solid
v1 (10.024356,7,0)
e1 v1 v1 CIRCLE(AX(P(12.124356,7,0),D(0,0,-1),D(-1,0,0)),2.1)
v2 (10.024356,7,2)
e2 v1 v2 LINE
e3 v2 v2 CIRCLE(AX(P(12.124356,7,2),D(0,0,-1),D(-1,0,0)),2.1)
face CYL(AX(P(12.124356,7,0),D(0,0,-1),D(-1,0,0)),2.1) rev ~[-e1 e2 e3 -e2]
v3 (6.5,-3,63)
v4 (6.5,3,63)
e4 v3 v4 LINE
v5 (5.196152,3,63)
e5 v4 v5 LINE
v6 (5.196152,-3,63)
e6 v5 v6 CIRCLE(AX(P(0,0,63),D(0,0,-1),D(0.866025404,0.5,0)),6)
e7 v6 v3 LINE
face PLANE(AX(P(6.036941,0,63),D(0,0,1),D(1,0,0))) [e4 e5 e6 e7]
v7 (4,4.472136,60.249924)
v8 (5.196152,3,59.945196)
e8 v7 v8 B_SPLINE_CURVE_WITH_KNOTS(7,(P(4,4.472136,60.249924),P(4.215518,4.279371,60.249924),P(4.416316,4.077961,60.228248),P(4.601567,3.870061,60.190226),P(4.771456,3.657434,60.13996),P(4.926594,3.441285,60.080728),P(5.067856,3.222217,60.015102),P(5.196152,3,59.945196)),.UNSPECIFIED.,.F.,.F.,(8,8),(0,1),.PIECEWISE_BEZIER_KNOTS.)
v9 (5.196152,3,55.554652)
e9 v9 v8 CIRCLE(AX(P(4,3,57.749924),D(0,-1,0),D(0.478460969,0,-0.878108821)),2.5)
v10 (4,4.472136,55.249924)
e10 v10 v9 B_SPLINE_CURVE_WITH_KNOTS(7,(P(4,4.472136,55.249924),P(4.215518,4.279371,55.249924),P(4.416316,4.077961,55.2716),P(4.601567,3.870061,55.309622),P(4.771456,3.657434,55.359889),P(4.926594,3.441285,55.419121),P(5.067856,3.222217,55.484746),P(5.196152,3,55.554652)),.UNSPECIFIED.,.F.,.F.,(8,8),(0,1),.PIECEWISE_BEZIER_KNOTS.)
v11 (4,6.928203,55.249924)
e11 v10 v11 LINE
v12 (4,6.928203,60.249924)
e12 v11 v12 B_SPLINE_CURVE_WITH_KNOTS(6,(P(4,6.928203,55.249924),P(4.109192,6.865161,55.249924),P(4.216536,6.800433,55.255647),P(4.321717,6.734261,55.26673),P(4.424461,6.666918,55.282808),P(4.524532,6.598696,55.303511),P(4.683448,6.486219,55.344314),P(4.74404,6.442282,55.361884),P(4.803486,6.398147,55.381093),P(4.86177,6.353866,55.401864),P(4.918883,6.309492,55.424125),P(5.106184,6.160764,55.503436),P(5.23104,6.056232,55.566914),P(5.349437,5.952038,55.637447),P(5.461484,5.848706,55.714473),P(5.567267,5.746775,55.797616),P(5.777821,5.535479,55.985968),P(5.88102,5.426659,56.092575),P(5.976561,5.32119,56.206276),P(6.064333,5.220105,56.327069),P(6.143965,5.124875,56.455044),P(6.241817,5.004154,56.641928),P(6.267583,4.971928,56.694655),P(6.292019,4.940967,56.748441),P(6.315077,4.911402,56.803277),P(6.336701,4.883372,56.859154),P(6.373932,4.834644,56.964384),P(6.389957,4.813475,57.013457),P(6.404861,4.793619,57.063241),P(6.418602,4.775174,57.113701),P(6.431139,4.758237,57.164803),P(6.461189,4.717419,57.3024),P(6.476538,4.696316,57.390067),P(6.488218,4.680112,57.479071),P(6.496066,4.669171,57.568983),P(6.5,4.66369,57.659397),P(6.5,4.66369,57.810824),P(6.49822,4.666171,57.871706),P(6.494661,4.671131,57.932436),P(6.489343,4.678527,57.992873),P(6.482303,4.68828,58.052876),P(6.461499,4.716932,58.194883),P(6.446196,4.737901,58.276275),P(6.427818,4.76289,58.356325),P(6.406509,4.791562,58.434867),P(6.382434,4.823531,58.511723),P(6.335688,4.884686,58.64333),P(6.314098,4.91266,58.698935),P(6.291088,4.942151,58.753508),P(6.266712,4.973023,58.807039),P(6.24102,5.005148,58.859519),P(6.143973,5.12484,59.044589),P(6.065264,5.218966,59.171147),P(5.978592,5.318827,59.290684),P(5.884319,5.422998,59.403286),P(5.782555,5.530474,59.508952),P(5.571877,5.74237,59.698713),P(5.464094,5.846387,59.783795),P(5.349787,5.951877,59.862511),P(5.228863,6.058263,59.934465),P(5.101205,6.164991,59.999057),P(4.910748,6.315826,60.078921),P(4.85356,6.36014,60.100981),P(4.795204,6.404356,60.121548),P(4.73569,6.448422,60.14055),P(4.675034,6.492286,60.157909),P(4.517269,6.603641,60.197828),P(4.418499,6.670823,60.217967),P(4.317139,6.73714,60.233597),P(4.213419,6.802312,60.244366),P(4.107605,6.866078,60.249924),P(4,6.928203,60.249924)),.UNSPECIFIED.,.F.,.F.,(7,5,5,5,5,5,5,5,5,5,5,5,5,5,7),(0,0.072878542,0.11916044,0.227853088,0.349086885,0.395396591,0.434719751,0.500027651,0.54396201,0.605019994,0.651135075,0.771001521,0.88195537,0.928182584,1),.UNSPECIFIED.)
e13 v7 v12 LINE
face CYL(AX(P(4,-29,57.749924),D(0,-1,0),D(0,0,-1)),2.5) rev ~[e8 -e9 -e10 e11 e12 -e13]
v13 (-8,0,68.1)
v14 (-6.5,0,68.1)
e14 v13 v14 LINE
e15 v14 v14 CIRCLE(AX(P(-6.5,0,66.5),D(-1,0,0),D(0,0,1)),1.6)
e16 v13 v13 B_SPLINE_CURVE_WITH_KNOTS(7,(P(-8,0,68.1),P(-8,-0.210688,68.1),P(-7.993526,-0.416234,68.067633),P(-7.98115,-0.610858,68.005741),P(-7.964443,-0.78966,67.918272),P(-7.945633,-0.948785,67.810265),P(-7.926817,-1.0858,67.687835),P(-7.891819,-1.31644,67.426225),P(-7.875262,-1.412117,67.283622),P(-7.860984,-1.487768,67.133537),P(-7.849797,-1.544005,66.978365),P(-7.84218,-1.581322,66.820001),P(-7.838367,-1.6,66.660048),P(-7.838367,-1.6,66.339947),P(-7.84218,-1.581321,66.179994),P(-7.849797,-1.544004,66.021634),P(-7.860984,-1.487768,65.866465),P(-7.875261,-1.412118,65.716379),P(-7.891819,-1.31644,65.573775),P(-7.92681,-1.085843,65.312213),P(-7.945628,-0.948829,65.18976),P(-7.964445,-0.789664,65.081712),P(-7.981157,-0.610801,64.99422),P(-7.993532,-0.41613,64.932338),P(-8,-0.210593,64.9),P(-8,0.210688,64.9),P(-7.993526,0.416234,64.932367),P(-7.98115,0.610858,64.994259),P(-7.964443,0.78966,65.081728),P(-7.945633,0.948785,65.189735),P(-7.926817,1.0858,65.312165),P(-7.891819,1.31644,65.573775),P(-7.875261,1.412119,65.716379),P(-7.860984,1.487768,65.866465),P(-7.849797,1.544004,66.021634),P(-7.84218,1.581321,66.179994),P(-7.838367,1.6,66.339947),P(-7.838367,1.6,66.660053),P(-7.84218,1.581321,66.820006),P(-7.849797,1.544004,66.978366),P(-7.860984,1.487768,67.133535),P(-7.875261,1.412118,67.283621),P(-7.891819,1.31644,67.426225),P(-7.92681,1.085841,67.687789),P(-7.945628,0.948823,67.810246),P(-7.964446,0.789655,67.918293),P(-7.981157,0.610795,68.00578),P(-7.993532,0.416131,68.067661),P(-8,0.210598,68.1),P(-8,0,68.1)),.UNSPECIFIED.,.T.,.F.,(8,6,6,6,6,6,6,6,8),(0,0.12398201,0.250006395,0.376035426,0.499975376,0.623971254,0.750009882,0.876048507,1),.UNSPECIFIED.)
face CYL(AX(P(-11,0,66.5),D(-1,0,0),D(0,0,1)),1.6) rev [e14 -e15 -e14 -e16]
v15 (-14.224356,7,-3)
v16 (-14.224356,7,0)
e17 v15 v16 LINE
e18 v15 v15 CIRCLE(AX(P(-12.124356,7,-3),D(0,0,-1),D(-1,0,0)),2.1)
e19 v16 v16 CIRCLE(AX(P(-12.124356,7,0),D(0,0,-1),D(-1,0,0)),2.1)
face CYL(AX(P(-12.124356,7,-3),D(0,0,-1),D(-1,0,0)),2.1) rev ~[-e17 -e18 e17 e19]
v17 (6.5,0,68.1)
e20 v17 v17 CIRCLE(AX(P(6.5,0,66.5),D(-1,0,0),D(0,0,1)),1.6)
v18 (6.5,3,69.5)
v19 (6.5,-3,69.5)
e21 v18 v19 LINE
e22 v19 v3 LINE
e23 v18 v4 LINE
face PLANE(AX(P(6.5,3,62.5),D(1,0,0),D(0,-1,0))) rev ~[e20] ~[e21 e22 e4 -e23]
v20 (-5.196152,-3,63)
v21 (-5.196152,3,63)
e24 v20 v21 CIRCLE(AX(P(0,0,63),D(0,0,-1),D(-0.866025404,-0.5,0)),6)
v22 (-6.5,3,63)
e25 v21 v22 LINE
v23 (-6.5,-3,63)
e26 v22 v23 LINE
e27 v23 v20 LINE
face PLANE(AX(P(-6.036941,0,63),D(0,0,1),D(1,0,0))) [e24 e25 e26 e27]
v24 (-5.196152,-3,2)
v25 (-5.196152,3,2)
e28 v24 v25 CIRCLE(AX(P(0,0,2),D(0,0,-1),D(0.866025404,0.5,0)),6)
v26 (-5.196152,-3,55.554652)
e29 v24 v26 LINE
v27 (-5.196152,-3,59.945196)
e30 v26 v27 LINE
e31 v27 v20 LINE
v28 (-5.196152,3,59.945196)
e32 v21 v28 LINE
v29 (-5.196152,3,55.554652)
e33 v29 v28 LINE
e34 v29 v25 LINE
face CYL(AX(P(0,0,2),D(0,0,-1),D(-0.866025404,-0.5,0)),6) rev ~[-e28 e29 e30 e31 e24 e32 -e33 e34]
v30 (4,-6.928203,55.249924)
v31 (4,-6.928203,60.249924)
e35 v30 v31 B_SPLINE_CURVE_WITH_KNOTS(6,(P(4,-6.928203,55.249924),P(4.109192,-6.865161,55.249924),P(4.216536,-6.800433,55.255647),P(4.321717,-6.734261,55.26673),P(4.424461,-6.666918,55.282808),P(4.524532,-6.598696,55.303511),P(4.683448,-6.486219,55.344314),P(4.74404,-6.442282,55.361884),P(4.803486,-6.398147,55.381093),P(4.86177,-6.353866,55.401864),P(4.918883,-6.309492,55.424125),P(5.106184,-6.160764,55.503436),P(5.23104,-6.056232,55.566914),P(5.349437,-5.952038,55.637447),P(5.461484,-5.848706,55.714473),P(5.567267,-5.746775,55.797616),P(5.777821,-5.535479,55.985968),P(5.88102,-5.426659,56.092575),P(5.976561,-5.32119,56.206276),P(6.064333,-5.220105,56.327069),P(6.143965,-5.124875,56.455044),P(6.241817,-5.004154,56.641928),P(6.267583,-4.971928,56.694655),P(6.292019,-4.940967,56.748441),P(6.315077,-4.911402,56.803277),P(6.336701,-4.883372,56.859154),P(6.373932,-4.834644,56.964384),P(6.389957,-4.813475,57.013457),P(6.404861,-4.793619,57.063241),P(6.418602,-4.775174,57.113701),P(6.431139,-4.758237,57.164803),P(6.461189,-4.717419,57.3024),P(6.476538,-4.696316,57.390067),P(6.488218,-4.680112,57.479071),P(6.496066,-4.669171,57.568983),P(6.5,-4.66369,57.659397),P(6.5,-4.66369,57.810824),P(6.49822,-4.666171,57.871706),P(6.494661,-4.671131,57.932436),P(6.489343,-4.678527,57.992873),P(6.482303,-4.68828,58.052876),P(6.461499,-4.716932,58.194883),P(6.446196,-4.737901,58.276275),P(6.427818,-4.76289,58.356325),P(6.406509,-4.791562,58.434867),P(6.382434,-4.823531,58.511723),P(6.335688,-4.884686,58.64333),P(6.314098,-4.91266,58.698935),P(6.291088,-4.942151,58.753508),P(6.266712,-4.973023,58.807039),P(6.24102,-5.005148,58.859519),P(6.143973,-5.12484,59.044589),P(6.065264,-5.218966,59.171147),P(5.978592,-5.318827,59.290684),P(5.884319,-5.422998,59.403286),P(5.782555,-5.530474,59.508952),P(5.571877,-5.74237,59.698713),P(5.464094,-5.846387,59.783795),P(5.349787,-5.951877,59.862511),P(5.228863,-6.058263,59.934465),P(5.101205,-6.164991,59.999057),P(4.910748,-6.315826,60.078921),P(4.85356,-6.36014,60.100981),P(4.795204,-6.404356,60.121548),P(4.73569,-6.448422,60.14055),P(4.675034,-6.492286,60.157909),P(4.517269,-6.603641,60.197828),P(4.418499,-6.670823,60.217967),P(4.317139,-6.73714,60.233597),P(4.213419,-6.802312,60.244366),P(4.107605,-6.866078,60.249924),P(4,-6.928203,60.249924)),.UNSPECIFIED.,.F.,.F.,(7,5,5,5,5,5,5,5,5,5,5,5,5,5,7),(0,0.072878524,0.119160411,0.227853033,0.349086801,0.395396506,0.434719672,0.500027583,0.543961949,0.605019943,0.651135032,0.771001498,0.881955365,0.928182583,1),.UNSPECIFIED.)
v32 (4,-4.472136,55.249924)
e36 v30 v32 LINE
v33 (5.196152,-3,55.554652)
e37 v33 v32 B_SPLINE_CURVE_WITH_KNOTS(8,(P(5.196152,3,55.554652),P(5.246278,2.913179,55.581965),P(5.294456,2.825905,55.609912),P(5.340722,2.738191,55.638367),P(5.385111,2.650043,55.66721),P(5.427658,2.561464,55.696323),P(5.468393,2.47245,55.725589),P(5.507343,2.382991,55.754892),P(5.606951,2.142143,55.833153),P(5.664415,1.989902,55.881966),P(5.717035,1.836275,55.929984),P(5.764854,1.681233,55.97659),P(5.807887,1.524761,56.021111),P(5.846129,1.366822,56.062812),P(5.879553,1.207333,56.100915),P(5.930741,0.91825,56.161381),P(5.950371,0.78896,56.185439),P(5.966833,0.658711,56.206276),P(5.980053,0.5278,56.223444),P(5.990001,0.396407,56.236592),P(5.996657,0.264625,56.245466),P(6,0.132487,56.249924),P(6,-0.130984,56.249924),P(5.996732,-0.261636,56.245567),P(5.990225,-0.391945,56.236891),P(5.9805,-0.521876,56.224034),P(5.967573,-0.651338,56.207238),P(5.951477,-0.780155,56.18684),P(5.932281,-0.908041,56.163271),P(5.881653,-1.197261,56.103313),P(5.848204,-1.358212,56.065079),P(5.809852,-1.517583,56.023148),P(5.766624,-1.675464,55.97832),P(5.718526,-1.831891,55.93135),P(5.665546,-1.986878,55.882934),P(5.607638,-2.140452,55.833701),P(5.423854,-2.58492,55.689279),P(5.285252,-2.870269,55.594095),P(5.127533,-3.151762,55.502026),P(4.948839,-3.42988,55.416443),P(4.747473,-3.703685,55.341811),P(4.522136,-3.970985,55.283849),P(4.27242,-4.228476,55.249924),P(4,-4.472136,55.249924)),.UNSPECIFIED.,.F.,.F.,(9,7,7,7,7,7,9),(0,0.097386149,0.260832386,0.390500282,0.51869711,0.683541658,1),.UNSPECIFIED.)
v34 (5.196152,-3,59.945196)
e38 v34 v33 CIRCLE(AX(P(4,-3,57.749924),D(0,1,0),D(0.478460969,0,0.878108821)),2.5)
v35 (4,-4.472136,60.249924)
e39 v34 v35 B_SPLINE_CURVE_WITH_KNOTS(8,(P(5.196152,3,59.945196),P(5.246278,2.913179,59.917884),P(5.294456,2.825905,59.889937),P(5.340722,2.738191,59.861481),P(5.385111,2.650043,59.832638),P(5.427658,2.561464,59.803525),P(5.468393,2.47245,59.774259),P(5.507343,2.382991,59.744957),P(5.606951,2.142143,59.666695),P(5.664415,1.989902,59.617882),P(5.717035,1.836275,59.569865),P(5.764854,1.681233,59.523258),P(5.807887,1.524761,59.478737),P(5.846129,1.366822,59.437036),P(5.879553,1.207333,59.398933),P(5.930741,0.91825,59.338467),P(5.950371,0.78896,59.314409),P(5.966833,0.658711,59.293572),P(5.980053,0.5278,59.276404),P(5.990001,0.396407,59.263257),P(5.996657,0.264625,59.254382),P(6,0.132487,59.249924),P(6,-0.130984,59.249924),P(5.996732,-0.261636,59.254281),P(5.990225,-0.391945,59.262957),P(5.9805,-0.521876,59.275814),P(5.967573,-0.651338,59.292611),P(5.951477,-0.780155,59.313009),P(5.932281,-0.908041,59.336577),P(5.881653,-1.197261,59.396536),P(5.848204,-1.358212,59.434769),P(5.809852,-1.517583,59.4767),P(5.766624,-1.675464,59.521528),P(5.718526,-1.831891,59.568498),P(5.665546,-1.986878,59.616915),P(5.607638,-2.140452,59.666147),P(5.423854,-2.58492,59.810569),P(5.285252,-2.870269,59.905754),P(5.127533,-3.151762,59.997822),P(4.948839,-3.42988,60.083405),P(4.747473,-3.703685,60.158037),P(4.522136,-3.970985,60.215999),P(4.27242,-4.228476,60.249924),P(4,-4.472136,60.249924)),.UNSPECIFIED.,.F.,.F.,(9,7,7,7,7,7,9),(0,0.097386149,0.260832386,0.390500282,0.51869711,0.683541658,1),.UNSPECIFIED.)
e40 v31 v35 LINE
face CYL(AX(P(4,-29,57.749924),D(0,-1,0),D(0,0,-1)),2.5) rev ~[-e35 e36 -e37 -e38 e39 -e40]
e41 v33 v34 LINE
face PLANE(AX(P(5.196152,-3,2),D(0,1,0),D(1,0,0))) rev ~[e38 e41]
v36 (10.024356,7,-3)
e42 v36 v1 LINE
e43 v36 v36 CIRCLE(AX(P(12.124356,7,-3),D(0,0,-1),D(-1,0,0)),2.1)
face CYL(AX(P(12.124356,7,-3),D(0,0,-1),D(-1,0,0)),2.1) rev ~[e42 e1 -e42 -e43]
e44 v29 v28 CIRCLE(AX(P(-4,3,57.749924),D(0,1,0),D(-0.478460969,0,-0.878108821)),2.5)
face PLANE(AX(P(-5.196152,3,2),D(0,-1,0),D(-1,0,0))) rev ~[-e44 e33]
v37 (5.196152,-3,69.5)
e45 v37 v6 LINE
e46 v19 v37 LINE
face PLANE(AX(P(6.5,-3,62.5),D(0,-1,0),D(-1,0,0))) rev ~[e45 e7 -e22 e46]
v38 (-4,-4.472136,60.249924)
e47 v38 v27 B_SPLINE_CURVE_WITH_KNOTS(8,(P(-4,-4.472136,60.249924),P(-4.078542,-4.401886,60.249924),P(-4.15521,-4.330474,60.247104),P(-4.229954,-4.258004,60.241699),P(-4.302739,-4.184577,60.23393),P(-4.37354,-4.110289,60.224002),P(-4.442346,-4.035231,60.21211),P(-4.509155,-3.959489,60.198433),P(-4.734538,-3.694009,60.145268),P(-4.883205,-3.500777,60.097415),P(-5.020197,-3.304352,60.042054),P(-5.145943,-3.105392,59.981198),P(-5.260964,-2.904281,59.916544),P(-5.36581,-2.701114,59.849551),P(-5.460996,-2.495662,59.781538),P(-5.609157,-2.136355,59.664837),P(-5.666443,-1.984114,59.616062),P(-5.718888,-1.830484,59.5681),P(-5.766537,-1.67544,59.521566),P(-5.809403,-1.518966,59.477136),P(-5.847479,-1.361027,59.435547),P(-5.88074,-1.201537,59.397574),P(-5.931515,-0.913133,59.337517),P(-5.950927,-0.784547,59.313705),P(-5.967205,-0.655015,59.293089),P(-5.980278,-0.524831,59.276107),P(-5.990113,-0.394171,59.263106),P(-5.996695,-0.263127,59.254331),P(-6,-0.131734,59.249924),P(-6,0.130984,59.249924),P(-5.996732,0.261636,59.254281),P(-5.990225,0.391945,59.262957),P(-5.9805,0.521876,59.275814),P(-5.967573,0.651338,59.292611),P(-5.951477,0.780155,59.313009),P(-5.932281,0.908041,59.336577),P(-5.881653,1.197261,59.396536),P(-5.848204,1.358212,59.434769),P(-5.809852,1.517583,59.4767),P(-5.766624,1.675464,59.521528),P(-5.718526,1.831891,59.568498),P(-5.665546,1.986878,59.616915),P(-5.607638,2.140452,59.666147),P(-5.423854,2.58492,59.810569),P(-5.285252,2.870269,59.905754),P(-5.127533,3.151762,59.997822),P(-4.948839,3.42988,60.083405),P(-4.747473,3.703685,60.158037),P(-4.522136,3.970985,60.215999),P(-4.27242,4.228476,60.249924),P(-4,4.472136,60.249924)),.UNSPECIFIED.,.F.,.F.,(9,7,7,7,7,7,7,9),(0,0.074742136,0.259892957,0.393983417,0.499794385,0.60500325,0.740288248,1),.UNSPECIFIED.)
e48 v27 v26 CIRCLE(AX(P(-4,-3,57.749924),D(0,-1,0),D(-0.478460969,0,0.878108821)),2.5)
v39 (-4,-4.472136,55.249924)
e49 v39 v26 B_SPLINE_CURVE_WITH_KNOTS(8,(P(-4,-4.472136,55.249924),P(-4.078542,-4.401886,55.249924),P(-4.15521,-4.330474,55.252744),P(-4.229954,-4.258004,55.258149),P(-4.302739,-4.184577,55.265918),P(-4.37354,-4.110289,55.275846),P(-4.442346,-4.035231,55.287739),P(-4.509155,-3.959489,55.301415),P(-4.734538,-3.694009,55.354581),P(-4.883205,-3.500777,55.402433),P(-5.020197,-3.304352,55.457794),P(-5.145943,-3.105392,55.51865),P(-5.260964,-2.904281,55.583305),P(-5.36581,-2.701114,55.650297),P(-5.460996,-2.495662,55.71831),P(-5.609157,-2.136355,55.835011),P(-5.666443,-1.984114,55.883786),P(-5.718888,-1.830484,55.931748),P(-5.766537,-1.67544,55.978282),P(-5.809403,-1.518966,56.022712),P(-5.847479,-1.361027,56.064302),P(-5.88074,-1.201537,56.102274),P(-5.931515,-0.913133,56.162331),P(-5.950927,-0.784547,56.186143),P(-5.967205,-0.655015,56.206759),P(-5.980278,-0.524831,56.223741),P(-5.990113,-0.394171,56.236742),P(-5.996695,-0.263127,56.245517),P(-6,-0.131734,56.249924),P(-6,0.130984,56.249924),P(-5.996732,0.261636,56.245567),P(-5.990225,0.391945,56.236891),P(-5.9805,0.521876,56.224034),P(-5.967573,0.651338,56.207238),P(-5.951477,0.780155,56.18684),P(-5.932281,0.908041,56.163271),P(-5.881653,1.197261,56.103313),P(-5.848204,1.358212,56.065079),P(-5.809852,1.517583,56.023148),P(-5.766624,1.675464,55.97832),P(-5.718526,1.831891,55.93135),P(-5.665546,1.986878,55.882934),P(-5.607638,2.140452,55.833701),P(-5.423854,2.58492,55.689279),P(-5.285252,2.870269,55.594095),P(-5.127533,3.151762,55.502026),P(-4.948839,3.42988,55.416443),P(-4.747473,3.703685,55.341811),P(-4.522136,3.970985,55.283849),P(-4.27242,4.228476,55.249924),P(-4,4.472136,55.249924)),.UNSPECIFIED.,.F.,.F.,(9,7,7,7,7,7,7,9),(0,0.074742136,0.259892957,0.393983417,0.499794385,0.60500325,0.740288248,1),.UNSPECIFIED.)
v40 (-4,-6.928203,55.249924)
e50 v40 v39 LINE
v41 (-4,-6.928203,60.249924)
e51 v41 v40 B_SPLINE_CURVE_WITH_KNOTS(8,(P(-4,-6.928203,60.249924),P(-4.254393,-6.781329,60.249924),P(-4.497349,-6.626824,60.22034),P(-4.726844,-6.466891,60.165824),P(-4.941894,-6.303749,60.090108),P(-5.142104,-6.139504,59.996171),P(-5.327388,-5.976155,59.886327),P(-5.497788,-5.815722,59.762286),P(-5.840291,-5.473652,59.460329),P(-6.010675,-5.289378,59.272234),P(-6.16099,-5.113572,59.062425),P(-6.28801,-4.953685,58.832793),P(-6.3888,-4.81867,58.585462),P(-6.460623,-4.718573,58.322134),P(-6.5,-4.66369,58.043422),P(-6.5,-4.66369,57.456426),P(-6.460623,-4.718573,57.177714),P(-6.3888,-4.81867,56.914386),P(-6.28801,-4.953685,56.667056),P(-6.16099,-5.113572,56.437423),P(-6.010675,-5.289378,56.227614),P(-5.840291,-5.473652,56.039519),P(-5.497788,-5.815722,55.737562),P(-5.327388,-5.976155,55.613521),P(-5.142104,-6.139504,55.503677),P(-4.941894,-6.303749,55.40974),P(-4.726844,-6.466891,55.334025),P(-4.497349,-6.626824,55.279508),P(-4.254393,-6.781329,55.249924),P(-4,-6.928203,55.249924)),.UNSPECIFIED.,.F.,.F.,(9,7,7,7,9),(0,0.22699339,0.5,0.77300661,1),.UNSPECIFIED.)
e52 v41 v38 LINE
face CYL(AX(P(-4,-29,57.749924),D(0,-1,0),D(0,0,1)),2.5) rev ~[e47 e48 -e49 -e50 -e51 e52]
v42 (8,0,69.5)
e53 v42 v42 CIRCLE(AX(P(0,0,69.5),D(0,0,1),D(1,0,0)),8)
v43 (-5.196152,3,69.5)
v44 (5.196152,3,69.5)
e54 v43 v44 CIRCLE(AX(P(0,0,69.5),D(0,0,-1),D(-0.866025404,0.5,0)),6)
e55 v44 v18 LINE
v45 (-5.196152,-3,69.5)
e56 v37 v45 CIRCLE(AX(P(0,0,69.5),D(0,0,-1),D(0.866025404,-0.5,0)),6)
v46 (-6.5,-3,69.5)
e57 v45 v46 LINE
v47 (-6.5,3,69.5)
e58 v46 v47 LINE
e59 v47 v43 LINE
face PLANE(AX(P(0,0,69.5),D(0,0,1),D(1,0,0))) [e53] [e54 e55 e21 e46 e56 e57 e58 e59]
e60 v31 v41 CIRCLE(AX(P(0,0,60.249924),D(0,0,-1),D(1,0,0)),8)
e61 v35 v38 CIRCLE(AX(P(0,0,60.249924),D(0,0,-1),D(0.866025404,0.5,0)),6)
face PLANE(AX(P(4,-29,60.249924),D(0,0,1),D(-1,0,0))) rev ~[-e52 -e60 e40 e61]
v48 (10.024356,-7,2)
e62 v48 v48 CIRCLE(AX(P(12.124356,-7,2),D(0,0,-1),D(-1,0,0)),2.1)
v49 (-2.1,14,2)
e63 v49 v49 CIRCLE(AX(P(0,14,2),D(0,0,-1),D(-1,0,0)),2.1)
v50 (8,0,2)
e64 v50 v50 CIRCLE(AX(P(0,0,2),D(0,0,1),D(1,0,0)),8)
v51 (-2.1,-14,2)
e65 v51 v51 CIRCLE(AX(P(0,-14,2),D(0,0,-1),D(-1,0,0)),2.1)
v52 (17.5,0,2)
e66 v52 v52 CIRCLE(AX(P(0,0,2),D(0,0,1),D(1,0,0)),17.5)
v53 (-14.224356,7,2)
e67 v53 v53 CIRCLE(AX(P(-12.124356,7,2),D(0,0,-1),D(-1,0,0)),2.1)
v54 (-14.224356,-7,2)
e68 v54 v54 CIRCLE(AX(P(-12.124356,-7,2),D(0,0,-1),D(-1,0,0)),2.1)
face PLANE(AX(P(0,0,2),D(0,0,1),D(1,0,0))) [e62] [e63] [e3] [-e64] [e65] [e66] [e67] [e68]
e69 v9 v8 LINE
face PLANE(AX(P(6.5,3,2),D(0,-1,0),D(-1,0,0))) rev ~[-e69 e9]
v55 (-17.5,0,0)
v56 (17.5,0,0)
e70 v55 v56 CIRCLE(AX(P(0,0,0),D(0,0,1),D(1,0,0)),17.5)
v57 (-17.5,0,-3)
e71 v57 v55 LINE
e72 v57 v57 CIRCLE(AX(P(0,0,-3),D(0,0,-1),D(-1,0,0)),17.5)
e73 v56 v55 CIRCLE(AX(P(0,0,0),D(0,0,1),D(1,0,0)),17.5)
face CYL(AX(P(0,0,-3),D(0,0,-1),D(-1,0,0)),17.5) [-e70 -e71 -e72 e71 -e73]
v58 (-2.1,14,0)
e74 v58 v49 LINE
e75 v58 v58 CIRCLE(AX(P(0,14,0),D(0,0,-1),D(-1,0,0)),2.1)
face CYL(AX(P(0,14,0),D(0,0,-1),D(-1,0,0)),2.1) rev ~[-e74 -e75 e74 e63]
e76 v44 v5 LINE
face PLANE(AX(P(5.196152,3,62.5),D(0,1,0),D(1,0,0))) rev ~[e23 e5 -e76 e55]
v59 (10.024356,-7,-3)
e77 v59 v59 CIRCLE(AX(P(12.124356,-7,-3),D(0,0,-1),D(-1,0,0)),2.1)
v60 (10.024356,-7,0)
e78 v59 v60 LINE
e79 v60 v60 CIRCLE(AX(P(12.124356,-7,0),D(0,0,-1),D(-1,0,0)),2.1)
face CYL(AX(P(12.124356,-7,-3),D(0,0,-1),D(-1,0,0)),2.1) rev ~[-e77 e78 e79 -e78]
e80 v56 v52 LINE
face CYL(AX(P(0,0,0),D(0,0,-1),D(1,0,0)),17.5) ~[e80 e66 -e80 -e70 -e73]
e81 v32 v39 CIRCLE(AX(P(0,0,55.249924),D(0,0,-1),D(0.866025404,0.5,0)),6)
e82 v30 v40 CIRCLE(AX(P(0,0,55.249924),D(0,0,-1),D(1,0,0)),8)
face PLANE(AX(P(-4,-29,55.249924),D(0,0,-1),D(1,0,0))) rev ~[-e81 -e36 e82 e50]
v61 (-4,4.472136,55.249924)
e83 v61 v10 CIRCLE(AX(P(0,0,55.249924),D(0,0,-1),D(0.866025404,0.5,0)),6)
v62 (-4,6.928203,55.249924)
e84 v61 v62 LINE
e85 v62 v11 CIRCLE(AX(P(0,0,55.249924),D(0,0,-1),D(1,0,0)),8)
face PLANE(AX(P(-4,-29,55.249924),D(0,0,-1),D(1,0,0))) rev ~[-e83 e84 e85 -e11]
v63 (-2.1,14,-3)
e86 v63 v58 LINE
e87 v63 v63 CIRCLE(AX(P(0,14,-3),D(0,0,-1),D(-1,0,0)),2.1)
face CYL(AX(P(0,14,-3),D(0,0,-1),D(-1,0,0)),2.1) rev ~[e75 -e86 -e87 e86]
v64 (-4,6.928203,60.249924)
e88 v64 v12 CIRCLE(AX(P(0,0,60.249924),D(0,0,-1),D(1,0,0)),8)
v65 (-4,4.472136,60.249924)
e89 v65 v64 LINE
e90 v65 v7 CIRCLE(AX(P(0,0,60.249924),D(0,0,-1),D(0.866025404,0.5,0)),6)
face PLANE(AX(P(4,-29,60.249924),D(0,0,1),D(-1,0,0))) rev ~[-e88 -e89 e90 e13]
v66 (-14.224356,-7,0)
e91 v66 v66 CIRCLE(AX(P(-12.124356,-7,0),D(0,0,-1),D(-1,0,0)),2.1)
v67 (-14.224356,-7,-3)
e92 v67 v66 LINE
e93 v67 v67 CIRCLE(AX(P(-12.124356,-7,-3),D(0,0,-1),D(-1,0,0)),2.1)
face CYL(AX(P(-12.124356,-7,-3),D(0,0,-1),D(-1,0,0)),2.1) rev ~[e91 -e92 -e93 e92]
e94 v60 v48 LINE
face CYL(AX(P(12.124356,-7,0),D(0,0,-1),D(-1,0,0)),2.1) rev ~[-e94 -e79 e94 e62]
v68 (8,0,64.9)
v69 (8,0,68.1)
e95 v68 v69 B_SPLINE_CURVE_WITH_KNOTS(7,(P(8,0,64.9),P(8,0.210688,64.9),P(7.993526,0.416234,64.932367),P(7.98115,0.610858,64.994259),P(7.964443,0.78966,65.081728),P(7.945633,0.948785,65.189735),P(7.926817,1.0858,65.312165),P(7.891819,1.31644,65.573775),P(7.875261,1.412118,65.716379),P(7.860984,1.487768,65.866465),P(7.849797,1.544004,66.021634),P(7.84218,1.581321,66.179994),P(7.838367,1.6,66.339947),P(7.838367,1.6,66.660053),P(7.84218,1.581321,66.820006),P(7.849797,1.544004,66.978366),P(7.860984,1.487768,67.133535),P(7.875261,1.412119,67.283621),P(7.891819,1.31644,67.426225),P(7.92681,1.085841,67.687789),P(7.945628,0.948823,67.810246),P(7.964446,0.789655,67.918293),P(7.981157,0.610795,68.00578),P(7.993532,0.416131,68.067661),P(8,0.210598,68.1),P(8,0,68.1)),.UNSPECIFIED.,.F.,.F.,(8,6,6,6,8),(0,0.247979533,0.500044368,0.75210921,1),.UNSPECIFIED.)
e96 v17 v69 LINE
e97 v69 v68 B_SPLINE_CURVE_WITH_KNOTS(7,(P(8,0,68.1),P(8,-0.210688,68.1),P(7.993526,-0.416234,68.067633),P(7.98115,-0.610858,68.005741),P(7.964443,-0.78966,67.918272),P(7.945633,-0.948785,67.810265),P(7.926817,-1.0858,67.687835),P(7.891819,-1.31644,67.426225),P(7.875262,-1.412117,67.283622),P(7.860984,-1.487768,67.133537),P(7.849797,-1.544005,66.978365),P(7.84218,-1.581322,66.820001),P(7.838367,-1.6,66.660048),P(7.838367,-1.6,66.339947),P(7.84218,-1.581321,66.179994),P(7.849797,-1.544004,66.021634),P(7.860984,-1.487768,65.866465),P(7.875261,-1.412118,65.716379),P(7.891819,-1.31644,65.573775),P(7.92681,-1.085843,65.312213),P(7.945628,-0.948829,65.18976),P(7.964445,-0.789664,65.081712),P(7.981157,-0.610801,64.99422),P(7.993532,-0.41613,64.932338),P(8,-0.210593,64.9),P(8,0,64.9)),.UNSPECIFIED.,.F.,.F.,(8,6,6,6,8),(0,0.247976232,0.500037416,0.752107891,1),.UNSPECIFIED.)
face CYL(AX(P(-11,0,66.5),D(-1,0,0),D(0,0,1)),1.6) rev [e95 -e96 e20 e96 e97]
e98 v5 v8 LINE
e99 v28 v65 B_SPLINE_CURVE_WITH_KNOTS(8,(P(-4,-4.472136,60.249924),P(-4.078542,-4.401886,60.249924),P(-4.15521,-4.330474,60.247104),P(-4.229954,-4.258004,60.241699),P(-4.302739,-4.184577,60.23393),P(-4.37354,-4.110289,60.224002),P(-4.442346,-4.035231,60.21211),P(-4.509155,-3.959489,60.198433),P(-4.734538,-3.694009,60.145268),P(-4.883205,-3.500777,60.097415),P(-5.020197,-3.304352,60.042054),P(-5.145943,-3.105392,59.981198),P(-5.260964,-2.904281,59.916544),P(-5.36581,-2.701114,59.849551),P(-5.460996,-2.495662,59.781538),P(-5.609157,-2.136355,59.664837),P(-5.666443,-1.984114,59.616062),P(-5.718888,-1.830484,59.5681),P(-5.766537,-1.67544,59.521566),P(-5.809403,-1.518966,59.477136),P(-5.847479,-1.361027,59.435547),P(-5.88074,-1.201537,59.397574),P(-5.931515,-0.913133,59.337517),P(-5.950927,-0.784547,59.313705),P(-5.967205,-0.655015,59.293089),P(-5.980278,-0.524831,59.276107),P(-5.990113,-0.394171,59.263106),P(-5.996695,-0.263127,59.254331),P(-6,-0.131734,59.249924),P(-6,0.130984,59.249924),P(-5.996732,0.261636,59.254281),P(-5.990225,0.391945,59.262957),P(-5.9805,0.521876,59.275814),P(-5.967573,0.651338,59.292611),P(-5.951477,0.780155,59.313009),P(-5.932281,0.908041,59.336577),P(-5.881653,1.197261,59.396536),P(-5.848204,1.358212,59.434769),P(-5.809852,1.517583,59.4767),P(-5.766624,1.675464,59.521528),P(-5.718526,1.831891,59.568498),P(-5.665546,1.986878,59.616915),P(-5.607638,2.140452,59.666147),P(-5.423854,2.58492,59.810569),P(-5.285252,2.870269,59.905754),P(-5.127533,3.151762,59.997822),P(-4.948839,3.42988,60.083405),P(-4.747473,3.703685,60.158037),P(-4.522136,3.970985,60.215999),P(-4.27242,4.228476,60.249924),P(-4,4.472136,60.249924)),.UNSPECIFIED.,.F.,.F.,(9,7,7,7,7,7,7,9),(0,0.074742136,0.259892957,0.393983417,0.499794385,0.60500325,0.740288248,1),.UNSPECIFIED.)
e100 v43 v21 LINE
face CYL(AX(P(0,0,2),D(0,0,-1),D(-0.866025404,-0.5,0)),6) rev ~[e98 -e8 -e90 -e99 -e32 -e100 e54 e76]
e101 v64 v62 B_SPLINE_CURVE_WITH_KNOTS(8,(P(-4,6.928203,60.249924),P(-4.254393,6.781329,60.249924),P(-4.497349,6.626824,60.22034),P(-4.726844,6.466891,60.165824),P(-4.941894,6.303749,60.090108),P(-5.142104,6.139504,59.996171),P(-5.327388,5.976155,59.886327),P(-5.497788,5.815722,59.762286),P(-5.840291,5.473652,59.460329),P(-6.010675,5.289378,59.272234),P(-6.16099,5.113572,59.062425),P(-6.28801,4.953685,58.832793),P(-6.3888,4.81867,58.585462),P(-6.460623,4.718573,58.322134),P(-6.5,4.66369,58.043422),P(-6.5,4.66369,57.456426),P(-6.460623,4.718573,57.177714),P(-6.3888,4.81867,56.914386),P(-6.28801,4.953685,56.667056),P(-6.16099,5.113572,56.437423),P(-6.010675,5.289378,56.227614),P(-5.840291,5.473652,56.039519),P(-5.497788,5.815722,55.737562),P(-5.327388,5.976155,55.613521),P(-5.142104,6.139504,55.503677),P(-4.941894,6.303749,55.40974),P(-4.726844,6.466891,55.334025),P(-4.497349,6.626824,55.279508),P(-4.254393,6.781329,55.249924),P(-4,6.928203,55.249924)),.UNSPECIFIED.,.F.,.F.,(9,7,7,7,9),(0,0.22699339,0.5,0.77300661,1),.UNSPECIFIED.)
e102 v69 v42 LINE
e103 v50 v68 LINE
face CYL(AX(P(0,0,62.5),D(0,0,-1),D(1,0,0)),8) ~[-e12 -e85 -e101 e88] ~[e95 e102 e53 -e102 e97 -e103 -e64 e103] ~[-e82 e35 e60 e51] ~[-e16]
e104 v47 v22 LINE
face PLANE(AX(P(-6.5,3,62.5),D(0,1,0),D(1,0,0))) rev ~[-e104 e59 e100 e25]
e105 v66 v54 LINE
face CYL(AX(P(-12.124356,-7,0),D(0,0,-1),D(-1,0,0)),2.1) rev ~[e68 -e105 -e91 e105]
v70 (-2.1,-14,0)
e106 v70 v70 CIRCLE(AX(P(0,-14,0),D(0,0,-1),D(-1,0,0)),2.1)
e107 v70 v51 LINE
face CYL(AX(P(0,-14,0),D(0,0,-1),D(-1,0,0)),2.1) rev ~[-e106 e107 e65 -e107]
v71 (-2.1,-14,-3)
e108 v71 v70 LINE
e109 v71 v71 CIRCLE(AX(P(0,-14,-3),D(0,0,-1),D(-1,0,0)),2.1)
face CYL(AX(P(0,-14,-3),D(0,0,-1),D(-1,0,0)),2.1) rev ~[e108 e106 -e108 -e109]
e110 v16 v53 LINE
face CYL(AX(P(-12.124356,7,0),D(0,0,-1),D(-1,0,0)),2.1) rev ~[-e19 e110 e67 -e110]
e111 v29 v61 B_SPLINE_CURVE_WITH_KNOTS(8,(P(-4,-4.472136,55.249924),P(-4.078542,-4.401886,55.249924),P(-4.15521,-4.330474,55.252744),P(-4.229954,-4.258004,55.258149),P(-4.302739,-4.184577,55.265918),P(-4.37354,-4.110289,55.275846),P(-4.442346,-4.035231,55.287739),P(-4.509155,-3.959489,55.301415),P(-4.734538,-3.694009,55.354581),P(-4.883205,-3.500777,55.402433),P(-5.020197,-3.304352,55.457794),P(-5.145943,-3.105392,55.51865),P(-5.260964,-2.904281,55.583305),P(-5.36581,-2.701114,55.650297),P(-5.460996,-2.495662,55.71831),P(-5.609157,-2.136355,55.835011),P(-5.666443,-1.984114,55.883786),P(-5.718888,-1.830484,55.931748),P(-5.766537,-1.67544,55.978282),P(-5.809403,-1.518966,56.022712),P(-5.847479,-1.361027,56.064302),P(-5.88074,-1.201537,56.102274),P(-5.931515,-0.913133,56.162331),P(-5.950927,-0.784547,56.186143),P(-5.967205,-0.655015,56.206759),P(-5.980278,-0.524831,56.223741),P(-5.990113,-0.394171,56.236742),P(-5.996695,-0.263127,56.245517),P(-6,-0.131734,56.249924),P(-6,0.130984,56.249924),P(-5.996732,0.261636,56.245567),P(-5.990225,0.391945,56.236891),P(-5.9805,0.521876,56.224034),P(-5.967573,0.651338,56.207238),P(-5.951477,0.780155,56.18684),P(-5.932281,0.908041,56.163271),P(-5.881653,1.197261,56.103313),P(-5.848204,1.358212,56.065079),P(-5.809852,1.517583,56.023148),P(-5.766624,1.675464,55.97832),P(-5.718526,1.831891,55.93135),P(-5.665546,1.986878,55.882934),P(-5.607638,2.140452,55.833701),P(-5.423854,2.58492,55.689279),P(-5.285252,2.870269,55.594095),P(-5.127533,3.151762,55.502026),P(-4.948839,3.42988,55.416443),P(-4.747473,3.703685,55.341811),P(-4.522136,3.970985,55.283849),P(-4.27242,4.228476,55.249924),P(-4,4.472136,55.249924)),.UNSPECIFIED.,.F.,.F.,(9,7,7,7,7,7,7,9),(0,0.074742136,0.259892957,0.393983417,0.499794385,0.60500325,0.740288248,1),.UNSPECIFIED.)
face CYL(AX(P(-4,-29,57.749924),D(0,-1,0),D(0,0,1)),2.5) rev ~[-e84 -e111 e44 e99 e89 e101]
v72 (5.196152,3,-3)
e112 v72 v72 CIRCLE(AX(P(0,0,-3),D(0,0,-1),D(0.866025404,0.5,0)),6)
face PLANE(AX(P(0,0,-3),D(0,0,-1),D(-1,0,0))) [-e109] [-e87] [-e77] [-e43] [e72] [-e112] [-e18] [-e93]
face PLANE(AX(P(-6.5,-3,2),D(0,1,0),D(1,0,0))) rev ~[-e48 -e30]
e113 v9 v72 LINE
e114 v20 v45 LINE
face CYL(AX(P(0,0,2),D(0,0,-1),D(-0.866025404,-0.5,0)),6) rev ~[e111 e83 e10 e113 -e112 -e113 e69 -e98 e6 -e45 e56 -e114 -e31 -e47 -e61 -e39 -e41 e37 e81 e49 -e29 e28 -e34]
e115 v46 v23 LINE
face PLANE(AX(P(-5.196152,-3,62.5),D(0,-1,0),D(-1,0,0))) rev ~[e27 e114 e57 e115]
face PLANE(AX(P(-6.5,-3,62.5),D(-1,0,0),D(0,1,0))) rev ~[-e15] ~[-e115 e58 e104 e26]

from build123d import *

# Parameters (mm, degrees)
SKETCH_1_R                = 17.499999999999996
SKETCH_1_R_2              = 2
SKETCH_1_R_3              = 2.000000000000001
SKETCH_1_R_4              = 1.9999999999999996
EXTRUDE_1_DEPTH           = 2
SKETCH_2_R                = 8
EXTRUDE_2_DEPTH           = 61.5
SKETCH_6_R                = 8
EXTRUDE_3_DEPTH           = 2
SKETCH_7_R                = 5
CUT_EXTRUDE_2_DEPTH       = 63.5
SKETCH_21_R               = 7
CUT_EXTRUDE_4_DEPTH       = 63.5
CUT_EXTRUDE_5_DEPTH       = 2
CUT_EXTRUDE_START         = -18
SKETCH_30_R               = 8
CUT_EXTRUDE_7_DEPTH       = 18
SKETCH_35_R               = 2.1
SKETCH_35_R_2             = 2.100000000000001
SKETCH_35_R_3             = 2.1000000000000005
SKETCH_35_R_4             = 2.099999999999999
CUT_EXTRUDE_9_DEPTH       = 10
EXTRUDE_START             = 3
SKETCH_37_R               = 17.5
SKETCH_37_R_2             = 2.1000000000000005
SKETCH_37_R_3             = 2.0999999999999996
SKETCH_37_R_4             = 2.099999999999999
EXTRUDE_5_DEPTH           = 3
EXTRUDE_7_DEPTH           = 10
EXTRUDE_7_DEPTH_BACK      = 46.00000000000002
SKETCH_44_R               = 8
SKETCH_44_R_2             = 6
CUT_EXTRUDE_21_DEPTH      = 55.5
SKETCH_47_R               = 7.999999999999998
EXTRUDE_8_DEPTH           = 5
SKETCH_48_R               = 7.999999999999998
EXTRUDE_9_DEPTH           = 7
CUT_EXTRUDE_22_DEPTH      = 21.000000000000004
CUT_EXTRUDE_22_DEPTH_BACK = 11.000000000000004
SKETCH_49_R               = 1.6000000000000052
SKETCH_52_R               = 6.798902153846566
CUT_EXTRUDE_25_DEPTH      = 10
EXTRUDE_START_2           = 5
SKETCH_53_R               = 6.798902153846566
SKETCH_53_R_2             = 6.000000000000001
EXTRUDE_11_DEPTH          = 5
CUT_EXTRUDE_26_DEPTH      = 21
CUT_EXTRUDE_26_DEPTH_BACK = 29
EXTRUDE_13_DEPTH          = 61.00000000000004


with BuildPart() as part:
    # 草图1 → 凸台-拉伸1 (new body)
    with BuildSketch(Plane.XY):
        Circle(SKETCH_1_R)
        with Locations((0, 14)):
            Circle(SKETCH_1_R_2, mode=Mode.SUBTRACT)
        with Locations((12.124355652982159, 6.999999999999974)):
            Circle(SKETCH_1_R_3, mode=Mode.SUBTRACT)
        with Locations((12.12435565298211, -7.000000000000057)):
            Circle(SKETCH_1_R_4, mode=Mode.SUBTRACT)
        with Locations((-9.776e-14, -14)):
            Circle(SKETCH_1_R_2, mode=Mode.SUBTRACT)
        with Locations((-12.12435565298221, -6.999999999999886)):
            Circle(SKETCH_1_R_4, mode=Mode.SUBTRACT)
        with Locations((-12.12435565298206, 7.000000000000141)):
            Circle(SKETCH_1_R_3, mode=Mode.SUBTRACT)
    extrude(amount=EXTRUDE_1_DEPTH)

    # 草图2 → 凸台-拉伸2 (add)
    with BuildSketch(Plane.XY.offset(2)):
        Circle(SKETCH_2_R)
    extrude(amount=EXTRUDE_2_DEPTH)

    # 草图6 → 凸台-拉伸3 (add)
    with BuildSketch(Plane.XY.offset(63.5)):
        Circle(SKETCH_6_R)
    extrude(amount=EXTRUDE_3_DEPTH)

    # 草图7 → 切除-拉伸2 (cut)
    with BuildSketch(Plane.XY.offset(65.5)):
        Circle(SKETCH_7_R)
    extrude(amount=-CUT_EXTRUDE_2_DEPTH, mode=Mode.SUBTRACT)

    # 草图21 → 切除-拉伸4 (cut)
    with BuildSketch(Plane.XY.offset(65.5)):
        Circle(SKETCH_21_R)
    extrude(amount=-CUT_EXTRUDE_4_DEPTH, mode=Mode.SUBTRACT)

    # 草图22 → 切除-拉伸5 (cut)
    with BuildSketch(Plane(origin=(0, 0, 0), x_dir=(-1, 0, 0), z_dir=(0, 0, -1))):
        with BuildLine():
            ThreePointArc((2.99966326467678, -5.999663264676775), (5.484805158577535, 3.7e-16), (2.9996632646767774, 5.999663264676775))
            ThreePointArc((2.9996632646767774, 5.999663264676775), (1.0003367353232246, 5.9996632646767765), (1.0003367353232226, 4.0003367353232235))
            ThreePointArc((1.0003367353232226, 4.0003367353232235), (2.6573304651534118, -2.6e-16), (1.000336735323225, -4.000336735323225))
            ThreePointArc((1.000336735323225, -4.000336735323225), (1.0003367353232278, -5.999663264676777), (2.99966326467678, -5.999663264676775))
        make_face()
        with BuildLine():
            ThreePointArc((-2.999663264675801, 5.999663264676881), (-5.48480515857711, 2.7491e-13), (-2.9996632646768204, -5.999663264676754))
            ThreePointArc((-2.9996632646768204, -5.999663264676754), (-1.0003367353232673, -5.99966326467677), (-1.0003367353232513, -4.000336735323216))
            ThreePointArc((-1.0003367353232513, -4.000336735323216), (-2.657330465152986, 1.3523e-13), (-1.00033673532243, 4.000336735323146))
            ThreePointArc((-1.00033673532243, 4.000336735323146), (-1.0003367353222479, 5.999663264676704), (-2.999663264675801, 5.999663264676881))
        make_face()
    extrude(amount=-CUT_EXTRUDE_5_DEPTH, mode=Mode.SUBTRACT)

    # 草图30 → 切除-拉伸7 (cut)
    with BuildSketch(Plane.XY.offset(65.5).offset(CUT_EXTRUDE_START)):
        Circle(SKETCH_30_R)
    extrude(amount=CUT_EXTRUDE_7_DEPTH, mode=Mode.SUBTRACT)

    # 草图35 → 切除-拉伸9 (cut)
    with BuildSketch(Plane(origin=(0, 0, 0), x_dir=(-1, 0, 0), z_dir=(0, 0, -1))):
        with Locations((0, 14)):
            Circle(SKETCH_35_R)
        with Locations((12.124355652982159, 6.999999999999974)):
            Circle(SKETCH_35_R_2)
        with Locations((12.12435565298211, -7.000000000000057)):
            Circle(SKETCH_35_R_2)
        with Locations((-9.776e-14, -14)):
            Circle(SKETCH_35_R)
        with Locations((-12.12435565298221, -6.999999999999886)):
            Circle(SKETCH_35_R_3)
        with Locations((-12.12435565298206, 7.000000000000141)):
            Circle(SKETCH_35_R_4)
    extrude(amount=-CUT_EXTRUDE_9_DEPTH, mode=Mode.SUBTRACT)

    # 草图37 → 凸台-拉伸5 (add)
    with BuildSketch(Plane(origin=(0, 0, 0), x_dir=(-1, 0, 0), z_dir=(0, 0, -1)).offset(EXTRUDE_START)):
        Circle(SKETCH_37_R)
        with Locations((12.124355652982159, 6.999999999999974)):
            Circle(SKETCH_37_R_2, mode=Mode.SUBTRACT)
        with Locations((12.12435565298211, -7.000000000000057)):
            Circle(SKETCH_37_R_2, mode=Mode.SUBTRACT)
        with Locations((-9.776e-14, -14)):
            Circle(SKETCH_37_R_3, mode=Mode.SUBTRACT)
        with Locations((-12.12435565298221, -6.999999999999886)):
            Circle(SKETCH_37_R_2, mode=Mode.SUBTRACT)
        with Locations((-12.12435565298206, 7.000000000000141)):
            Circle(SKETCH_37_R_4, mode=Mode.SUBTRACT)
        with Locations((0, 14)):
            Circle(SKETCH_37_R_3, mode=Mode.SUBTRACT)
        with BuildLine():
            ThreePointArc((-2.999663264676821, -5.999663264676754), (-1.000336735323267, -5.99966326467677), (-1.0003367353232513, -4.000336735323216))
            ThreePointArc((-1.0003367353232513, -4.000336735323216), (-2.6573304651529885, 1.3523e-13), (-1.0003367353224324, 4.000336735323147))
            ThreePointArc((-1.0003367353224324, 4.000336735323147), (-1.0003367353222492, 5.999663264676702), (-2.9996632646758017, 5.999663264676881))
            ThreePointArc((-2.9996632646758017, 5.999663264676881), (-5.484805158577112, 2.7491e-13), (-2.999663264676821, -5.999663264676754))
        make_face(mode=Mode.SUBTRACT)
        with BuildLine():
            ThreePointArc((1.000336735323223, -4.000336735323228), (1.0003367353232275, -5.9996632646767765), (2.9996632646767774, -5.999663264676779))
            ThreePointArc((2.9996632646767774, -5.999663264676779), (5.484805158577537, -2.46e-15), (2.999663264676779, 5.999663264676775))
            ThreePointArc((2.999663264676779, 5.999663264676775), (1.000336735323224, 5.999663264676778), (1.0003367353232224, 4.0003367353232235))
            ThreePointArc((1.0003367353232224, 4.0003367353232235), (2.6573304651534126, -1.52e-15), (1.000336735323223, -4.000336735323228))
        make_face(mode=Mode.SUBTRACT)
    extrude(amount=-EXTRUDE_5_DEPTH)

    # 草图44 → 凸台-拉伸7 (add, two sides: drawn at the far end of the back side and taken through both)
    with BuildSketch(Plane.XY.offset(47.5).offset(-EXTRUDE_7_DEPTH_BACK)):
        Circle(SKETCH_44_R)
        Circle(SKETCH_44_R_2, mode=Mode.SUBTRACT)
    extrude(amount=EXTRUDE_7_DEPTH + EXTRUDE_7_DEPTH_BACK)

    # 草图46 → 切除-拉伸21 (cut)
    with BuildSketch(Plane.XY.offset(57.5)):
        with BuildLine():
            Line((-6.5, -3), (-5.196152422706578, -3))
            ThreePointArc((-5.196152422706599, -3.000000000000059), (-6.000000000000001, 7.3e-16), (-5.1961524227066, 3.0000000000000577))
            Line((-5.196152422706579, 2.999999999999998), (-6.500000000000001, 2.9999999999999973))
            Line((-6.500000000000001, 2.9999999999999973), (-6.5, -3))
        make_face()
        with BuildLine():
            Line((-5.196152422706578, -3), (0, -3))
            Line((0, -3), (-1.1e-15, 3))
            Line((-1.1e-15, 3), (-5.196152422706579, 2.999999999999998))
            ThreePointArc((-5.1961524227066, 3.0000000000000577), (-6.000000000000001, 7.3e-16), (-5.196152422706599, -3.000000000000059))
        make_face()
        with BuildLine():
            Line((-1.1e-15, 3), (0, -3))
            Line((0, -3), (5.196152422706767, -3))
            ThreePointArc((5.196152422706716, -2.9999999999998557), (5.795554957734432, -1.552914270615042), (6.000000000000001, -1.47e-15))
            ThreePointArc((6.000000000000001, 0), (5.795554957734432, 1.5529142706150447), (5.1961524227067155, 2.999999999999857))
            Line((5.196152422706765, 3), (-1.1e-15, 3))
        make_face()
        with BuildLine():
            ThreePointArc((6.000000000000001, -1.47e-15), (5.795554957734432, -1.552914270615042), (5.196152422706716, -2.9999999999998557))
            Line((5.196152422706767, -3), (6.5, -3))
            Line((6.5, -3), (6.5, 3))
            Line((6.5, 3), (5.196152422706765, 3))
            ThreePointArc((5.1961524227067155, 2.999999999999857), (5.795554957734432, 1.5529142706150447), (6.000000000000001, 0))
        make_face()
    extrude(amount=-CUT_EXTRUDE_21_DEPTH, mode=Mode.SUBTRACT)

    # 草图47 → 凸台-拉伸8 (add)
    with BuildSketch(Plane.XY.offset(57.5)):
        Circle(SKETCH_47_R)
        with BuildLine():
            Line((5.196152422706634, -3), (6.5, -3))
            Line((6.5, -3), (6.5, 3))
            Line((6.5, 3), (5.196152422706633, 3.000000000000002))
            ThreePointArc((5.196152422706633, 3.000000000000002), (-2.3e-15, 6.000000000000002), (-5.196152422706635, 2.999999999999998))
            Line((-5.196152422706635, 2.999999999999998), (-6.500000000000001, 2.9999999999999973))
            Line((-6.500000000000001, 2.9999999999999973), (-6.5, -3))
            Line((-6.5, -3), (-5.196152422706634, -3))
            ThreePointArc((-5.196152422706634, -3), (3.7e-16, -6.000000000000002), (5.196152422706634, -3))
        make_face(mode=Mode.SUBTRACT)
    extrude(amount=EXTRUDE_8_DEPTH)

    # 草图48 → 凸台-拉伸9 (add)
    with BuildSketch(Plane.XY.offset(62.5)):
        Circle(SKETCH_48_R)
        with BuildLine():
            Line((-5.196152422706634, -2.9999999999999987), (-6.5, -3))
            Line((-6.5, -3), (-6.500000000000001, 2.9999999999999973))
            Line((-6.500000000000001, 2.9999999999999973), (-5.196152422706635, 2.999999999999998))
            ThreePointArc((-5.196152422706635, 2.999999999999998), (-2.3e-15, 6.000000000000002), (5.196152422706633, 3.000000000000002))
            Line((5.196152422706633, 3.000000000000002), (6.5, 3))
            Line((6.5, 3), (6.5, -3))
            Line((6.5, -3), (5.196152422706634, -3))
            ThreePointArc((5.196152422706634, -3), (-9.6e-16, -6.000000000000001), (-5.196152422706634, -2.9999999999999987))
        make_face(mode=Mode.SUBTRACT)
    extrude(amount=EXTRUDE_9_DEPTH)

    # 草图49 → 切除-拉伸22 (cut, two sides: drawn at the far end of the back side and taken through both)
    with BuildSketch(Plane(origin=(0, 0, 0), x_dir=(0, 0, -1), z_dir=(1, 0, 0)).offset(-CUT_EXTRUDE_22_DEPTH_BACK)):
        with Locations(Location((-66.5, 0, 0), (0, 0, 180))):
            Circle(SKETCH_49_R)
    extrude(amount=CUT_EXTRUDE_22_DEPTH + CUT_EXTRUDE_22_DEPTH_BACK, mode=Mode.SUBTRACT)

    # 草图52 → 切除-拉伸25 (cut)
    with BuildSketch(Plane.XY.offset(2)):
        with Locations(Location((0, 0, 0), (0, 0, 17.052451517))):
            Circle(SKETCH_52_R)
    extrude(amount=-CUT_EXTRUDE_25_DEPTH, mode=Mode.SUBTRACT)

    # 草图53 → 凸台-拉伸11 (add)
    with BuildSketch(Plane(origin=(0, 0, 2), x_dir=(-1, 0, 0), z_dir=(0, 0, -1)).offset(EXTRUDE_START_2)):
        Circle(SKETCH_53_R)
        with Locations(Location((0, 0, 0), (0, 0, 150))):
            Circle(SKETCH_53_R_2, mode=Mode.SUBTRACT)
    extrude(amount=-EXTRUDE_11_DEPTH)

    # 草图56 → 切除-拉伸26 (cut, two sides: drawn at the far end of the back side and taken through both)
    with BuildSketch(Plane(origin=(0, 0, 0), x_dir=(1, 0, 0), z_dir=(0, 1, 0)).offset(-CUT_EXTRUDE_26_DEPTH_BACK)):
        with BuildLine():
            Line((4.000000000000007, -60.249924116242), (-3.9999999999999933, -60.249924116242))
            ThreePointArc((-3.9999999999999933, -60.249924116242), (-6.5, -57.749924116242), (-3.9999999999999942, -55.24992411624199))
            Line((-3.9999999999999942, -55.24992411624199), (4.000000000000008, -55.24992411624199))
            ThreePointArc((4.000000000000008, -55.24992411624199), (6.500000000000007, -57.749924116242), (4.000000000000007, -60.249924116242))
        make_face()
    extrude(amount=CUT_EXTRUDE_26_DEPTH + CUT_EXTRUDE_26_DEPTH_BACK, mode=Mode.SUBTRACT)

    # 草图57 → 凸台-拉伸13 (add)
    with BuildSketch(Plane.XY.offset(2)):
        with BuildLine():
            ThreePointArc((-5.196152422706635, -2.999999999999999), (-6.000000000000002, 7.3e-16), (-5.196152422706635, 2.9999999999999982))
            Line((-5.196152422706635, 2.999999999999998), (-6.500000000000001, 2.9999999999999973))
            Line((-6.500000000000001, 2.9999999999999973), (-6.5, -3))
            Line((-6.5, -3), (-5.196152422706634, -2.9999999999999987))
        make_face()
        with BuildLine():
            Line((6.5, 3), (5.196152422706633, 3.000000000000002))
            ThreePointArc((5.196152422706633, 3.000000000000002), (6.000000000000002, 1.33e-15), (5.196152422706634, -3.000000000000001))
            Line((5.196152422706634, -3), (6.5, -3))
            Line((6.5, -3), (6.5, 3))
        make_face()
    extrude(amount=EXTRUDE_13_DEPTH)


solid = part.part
